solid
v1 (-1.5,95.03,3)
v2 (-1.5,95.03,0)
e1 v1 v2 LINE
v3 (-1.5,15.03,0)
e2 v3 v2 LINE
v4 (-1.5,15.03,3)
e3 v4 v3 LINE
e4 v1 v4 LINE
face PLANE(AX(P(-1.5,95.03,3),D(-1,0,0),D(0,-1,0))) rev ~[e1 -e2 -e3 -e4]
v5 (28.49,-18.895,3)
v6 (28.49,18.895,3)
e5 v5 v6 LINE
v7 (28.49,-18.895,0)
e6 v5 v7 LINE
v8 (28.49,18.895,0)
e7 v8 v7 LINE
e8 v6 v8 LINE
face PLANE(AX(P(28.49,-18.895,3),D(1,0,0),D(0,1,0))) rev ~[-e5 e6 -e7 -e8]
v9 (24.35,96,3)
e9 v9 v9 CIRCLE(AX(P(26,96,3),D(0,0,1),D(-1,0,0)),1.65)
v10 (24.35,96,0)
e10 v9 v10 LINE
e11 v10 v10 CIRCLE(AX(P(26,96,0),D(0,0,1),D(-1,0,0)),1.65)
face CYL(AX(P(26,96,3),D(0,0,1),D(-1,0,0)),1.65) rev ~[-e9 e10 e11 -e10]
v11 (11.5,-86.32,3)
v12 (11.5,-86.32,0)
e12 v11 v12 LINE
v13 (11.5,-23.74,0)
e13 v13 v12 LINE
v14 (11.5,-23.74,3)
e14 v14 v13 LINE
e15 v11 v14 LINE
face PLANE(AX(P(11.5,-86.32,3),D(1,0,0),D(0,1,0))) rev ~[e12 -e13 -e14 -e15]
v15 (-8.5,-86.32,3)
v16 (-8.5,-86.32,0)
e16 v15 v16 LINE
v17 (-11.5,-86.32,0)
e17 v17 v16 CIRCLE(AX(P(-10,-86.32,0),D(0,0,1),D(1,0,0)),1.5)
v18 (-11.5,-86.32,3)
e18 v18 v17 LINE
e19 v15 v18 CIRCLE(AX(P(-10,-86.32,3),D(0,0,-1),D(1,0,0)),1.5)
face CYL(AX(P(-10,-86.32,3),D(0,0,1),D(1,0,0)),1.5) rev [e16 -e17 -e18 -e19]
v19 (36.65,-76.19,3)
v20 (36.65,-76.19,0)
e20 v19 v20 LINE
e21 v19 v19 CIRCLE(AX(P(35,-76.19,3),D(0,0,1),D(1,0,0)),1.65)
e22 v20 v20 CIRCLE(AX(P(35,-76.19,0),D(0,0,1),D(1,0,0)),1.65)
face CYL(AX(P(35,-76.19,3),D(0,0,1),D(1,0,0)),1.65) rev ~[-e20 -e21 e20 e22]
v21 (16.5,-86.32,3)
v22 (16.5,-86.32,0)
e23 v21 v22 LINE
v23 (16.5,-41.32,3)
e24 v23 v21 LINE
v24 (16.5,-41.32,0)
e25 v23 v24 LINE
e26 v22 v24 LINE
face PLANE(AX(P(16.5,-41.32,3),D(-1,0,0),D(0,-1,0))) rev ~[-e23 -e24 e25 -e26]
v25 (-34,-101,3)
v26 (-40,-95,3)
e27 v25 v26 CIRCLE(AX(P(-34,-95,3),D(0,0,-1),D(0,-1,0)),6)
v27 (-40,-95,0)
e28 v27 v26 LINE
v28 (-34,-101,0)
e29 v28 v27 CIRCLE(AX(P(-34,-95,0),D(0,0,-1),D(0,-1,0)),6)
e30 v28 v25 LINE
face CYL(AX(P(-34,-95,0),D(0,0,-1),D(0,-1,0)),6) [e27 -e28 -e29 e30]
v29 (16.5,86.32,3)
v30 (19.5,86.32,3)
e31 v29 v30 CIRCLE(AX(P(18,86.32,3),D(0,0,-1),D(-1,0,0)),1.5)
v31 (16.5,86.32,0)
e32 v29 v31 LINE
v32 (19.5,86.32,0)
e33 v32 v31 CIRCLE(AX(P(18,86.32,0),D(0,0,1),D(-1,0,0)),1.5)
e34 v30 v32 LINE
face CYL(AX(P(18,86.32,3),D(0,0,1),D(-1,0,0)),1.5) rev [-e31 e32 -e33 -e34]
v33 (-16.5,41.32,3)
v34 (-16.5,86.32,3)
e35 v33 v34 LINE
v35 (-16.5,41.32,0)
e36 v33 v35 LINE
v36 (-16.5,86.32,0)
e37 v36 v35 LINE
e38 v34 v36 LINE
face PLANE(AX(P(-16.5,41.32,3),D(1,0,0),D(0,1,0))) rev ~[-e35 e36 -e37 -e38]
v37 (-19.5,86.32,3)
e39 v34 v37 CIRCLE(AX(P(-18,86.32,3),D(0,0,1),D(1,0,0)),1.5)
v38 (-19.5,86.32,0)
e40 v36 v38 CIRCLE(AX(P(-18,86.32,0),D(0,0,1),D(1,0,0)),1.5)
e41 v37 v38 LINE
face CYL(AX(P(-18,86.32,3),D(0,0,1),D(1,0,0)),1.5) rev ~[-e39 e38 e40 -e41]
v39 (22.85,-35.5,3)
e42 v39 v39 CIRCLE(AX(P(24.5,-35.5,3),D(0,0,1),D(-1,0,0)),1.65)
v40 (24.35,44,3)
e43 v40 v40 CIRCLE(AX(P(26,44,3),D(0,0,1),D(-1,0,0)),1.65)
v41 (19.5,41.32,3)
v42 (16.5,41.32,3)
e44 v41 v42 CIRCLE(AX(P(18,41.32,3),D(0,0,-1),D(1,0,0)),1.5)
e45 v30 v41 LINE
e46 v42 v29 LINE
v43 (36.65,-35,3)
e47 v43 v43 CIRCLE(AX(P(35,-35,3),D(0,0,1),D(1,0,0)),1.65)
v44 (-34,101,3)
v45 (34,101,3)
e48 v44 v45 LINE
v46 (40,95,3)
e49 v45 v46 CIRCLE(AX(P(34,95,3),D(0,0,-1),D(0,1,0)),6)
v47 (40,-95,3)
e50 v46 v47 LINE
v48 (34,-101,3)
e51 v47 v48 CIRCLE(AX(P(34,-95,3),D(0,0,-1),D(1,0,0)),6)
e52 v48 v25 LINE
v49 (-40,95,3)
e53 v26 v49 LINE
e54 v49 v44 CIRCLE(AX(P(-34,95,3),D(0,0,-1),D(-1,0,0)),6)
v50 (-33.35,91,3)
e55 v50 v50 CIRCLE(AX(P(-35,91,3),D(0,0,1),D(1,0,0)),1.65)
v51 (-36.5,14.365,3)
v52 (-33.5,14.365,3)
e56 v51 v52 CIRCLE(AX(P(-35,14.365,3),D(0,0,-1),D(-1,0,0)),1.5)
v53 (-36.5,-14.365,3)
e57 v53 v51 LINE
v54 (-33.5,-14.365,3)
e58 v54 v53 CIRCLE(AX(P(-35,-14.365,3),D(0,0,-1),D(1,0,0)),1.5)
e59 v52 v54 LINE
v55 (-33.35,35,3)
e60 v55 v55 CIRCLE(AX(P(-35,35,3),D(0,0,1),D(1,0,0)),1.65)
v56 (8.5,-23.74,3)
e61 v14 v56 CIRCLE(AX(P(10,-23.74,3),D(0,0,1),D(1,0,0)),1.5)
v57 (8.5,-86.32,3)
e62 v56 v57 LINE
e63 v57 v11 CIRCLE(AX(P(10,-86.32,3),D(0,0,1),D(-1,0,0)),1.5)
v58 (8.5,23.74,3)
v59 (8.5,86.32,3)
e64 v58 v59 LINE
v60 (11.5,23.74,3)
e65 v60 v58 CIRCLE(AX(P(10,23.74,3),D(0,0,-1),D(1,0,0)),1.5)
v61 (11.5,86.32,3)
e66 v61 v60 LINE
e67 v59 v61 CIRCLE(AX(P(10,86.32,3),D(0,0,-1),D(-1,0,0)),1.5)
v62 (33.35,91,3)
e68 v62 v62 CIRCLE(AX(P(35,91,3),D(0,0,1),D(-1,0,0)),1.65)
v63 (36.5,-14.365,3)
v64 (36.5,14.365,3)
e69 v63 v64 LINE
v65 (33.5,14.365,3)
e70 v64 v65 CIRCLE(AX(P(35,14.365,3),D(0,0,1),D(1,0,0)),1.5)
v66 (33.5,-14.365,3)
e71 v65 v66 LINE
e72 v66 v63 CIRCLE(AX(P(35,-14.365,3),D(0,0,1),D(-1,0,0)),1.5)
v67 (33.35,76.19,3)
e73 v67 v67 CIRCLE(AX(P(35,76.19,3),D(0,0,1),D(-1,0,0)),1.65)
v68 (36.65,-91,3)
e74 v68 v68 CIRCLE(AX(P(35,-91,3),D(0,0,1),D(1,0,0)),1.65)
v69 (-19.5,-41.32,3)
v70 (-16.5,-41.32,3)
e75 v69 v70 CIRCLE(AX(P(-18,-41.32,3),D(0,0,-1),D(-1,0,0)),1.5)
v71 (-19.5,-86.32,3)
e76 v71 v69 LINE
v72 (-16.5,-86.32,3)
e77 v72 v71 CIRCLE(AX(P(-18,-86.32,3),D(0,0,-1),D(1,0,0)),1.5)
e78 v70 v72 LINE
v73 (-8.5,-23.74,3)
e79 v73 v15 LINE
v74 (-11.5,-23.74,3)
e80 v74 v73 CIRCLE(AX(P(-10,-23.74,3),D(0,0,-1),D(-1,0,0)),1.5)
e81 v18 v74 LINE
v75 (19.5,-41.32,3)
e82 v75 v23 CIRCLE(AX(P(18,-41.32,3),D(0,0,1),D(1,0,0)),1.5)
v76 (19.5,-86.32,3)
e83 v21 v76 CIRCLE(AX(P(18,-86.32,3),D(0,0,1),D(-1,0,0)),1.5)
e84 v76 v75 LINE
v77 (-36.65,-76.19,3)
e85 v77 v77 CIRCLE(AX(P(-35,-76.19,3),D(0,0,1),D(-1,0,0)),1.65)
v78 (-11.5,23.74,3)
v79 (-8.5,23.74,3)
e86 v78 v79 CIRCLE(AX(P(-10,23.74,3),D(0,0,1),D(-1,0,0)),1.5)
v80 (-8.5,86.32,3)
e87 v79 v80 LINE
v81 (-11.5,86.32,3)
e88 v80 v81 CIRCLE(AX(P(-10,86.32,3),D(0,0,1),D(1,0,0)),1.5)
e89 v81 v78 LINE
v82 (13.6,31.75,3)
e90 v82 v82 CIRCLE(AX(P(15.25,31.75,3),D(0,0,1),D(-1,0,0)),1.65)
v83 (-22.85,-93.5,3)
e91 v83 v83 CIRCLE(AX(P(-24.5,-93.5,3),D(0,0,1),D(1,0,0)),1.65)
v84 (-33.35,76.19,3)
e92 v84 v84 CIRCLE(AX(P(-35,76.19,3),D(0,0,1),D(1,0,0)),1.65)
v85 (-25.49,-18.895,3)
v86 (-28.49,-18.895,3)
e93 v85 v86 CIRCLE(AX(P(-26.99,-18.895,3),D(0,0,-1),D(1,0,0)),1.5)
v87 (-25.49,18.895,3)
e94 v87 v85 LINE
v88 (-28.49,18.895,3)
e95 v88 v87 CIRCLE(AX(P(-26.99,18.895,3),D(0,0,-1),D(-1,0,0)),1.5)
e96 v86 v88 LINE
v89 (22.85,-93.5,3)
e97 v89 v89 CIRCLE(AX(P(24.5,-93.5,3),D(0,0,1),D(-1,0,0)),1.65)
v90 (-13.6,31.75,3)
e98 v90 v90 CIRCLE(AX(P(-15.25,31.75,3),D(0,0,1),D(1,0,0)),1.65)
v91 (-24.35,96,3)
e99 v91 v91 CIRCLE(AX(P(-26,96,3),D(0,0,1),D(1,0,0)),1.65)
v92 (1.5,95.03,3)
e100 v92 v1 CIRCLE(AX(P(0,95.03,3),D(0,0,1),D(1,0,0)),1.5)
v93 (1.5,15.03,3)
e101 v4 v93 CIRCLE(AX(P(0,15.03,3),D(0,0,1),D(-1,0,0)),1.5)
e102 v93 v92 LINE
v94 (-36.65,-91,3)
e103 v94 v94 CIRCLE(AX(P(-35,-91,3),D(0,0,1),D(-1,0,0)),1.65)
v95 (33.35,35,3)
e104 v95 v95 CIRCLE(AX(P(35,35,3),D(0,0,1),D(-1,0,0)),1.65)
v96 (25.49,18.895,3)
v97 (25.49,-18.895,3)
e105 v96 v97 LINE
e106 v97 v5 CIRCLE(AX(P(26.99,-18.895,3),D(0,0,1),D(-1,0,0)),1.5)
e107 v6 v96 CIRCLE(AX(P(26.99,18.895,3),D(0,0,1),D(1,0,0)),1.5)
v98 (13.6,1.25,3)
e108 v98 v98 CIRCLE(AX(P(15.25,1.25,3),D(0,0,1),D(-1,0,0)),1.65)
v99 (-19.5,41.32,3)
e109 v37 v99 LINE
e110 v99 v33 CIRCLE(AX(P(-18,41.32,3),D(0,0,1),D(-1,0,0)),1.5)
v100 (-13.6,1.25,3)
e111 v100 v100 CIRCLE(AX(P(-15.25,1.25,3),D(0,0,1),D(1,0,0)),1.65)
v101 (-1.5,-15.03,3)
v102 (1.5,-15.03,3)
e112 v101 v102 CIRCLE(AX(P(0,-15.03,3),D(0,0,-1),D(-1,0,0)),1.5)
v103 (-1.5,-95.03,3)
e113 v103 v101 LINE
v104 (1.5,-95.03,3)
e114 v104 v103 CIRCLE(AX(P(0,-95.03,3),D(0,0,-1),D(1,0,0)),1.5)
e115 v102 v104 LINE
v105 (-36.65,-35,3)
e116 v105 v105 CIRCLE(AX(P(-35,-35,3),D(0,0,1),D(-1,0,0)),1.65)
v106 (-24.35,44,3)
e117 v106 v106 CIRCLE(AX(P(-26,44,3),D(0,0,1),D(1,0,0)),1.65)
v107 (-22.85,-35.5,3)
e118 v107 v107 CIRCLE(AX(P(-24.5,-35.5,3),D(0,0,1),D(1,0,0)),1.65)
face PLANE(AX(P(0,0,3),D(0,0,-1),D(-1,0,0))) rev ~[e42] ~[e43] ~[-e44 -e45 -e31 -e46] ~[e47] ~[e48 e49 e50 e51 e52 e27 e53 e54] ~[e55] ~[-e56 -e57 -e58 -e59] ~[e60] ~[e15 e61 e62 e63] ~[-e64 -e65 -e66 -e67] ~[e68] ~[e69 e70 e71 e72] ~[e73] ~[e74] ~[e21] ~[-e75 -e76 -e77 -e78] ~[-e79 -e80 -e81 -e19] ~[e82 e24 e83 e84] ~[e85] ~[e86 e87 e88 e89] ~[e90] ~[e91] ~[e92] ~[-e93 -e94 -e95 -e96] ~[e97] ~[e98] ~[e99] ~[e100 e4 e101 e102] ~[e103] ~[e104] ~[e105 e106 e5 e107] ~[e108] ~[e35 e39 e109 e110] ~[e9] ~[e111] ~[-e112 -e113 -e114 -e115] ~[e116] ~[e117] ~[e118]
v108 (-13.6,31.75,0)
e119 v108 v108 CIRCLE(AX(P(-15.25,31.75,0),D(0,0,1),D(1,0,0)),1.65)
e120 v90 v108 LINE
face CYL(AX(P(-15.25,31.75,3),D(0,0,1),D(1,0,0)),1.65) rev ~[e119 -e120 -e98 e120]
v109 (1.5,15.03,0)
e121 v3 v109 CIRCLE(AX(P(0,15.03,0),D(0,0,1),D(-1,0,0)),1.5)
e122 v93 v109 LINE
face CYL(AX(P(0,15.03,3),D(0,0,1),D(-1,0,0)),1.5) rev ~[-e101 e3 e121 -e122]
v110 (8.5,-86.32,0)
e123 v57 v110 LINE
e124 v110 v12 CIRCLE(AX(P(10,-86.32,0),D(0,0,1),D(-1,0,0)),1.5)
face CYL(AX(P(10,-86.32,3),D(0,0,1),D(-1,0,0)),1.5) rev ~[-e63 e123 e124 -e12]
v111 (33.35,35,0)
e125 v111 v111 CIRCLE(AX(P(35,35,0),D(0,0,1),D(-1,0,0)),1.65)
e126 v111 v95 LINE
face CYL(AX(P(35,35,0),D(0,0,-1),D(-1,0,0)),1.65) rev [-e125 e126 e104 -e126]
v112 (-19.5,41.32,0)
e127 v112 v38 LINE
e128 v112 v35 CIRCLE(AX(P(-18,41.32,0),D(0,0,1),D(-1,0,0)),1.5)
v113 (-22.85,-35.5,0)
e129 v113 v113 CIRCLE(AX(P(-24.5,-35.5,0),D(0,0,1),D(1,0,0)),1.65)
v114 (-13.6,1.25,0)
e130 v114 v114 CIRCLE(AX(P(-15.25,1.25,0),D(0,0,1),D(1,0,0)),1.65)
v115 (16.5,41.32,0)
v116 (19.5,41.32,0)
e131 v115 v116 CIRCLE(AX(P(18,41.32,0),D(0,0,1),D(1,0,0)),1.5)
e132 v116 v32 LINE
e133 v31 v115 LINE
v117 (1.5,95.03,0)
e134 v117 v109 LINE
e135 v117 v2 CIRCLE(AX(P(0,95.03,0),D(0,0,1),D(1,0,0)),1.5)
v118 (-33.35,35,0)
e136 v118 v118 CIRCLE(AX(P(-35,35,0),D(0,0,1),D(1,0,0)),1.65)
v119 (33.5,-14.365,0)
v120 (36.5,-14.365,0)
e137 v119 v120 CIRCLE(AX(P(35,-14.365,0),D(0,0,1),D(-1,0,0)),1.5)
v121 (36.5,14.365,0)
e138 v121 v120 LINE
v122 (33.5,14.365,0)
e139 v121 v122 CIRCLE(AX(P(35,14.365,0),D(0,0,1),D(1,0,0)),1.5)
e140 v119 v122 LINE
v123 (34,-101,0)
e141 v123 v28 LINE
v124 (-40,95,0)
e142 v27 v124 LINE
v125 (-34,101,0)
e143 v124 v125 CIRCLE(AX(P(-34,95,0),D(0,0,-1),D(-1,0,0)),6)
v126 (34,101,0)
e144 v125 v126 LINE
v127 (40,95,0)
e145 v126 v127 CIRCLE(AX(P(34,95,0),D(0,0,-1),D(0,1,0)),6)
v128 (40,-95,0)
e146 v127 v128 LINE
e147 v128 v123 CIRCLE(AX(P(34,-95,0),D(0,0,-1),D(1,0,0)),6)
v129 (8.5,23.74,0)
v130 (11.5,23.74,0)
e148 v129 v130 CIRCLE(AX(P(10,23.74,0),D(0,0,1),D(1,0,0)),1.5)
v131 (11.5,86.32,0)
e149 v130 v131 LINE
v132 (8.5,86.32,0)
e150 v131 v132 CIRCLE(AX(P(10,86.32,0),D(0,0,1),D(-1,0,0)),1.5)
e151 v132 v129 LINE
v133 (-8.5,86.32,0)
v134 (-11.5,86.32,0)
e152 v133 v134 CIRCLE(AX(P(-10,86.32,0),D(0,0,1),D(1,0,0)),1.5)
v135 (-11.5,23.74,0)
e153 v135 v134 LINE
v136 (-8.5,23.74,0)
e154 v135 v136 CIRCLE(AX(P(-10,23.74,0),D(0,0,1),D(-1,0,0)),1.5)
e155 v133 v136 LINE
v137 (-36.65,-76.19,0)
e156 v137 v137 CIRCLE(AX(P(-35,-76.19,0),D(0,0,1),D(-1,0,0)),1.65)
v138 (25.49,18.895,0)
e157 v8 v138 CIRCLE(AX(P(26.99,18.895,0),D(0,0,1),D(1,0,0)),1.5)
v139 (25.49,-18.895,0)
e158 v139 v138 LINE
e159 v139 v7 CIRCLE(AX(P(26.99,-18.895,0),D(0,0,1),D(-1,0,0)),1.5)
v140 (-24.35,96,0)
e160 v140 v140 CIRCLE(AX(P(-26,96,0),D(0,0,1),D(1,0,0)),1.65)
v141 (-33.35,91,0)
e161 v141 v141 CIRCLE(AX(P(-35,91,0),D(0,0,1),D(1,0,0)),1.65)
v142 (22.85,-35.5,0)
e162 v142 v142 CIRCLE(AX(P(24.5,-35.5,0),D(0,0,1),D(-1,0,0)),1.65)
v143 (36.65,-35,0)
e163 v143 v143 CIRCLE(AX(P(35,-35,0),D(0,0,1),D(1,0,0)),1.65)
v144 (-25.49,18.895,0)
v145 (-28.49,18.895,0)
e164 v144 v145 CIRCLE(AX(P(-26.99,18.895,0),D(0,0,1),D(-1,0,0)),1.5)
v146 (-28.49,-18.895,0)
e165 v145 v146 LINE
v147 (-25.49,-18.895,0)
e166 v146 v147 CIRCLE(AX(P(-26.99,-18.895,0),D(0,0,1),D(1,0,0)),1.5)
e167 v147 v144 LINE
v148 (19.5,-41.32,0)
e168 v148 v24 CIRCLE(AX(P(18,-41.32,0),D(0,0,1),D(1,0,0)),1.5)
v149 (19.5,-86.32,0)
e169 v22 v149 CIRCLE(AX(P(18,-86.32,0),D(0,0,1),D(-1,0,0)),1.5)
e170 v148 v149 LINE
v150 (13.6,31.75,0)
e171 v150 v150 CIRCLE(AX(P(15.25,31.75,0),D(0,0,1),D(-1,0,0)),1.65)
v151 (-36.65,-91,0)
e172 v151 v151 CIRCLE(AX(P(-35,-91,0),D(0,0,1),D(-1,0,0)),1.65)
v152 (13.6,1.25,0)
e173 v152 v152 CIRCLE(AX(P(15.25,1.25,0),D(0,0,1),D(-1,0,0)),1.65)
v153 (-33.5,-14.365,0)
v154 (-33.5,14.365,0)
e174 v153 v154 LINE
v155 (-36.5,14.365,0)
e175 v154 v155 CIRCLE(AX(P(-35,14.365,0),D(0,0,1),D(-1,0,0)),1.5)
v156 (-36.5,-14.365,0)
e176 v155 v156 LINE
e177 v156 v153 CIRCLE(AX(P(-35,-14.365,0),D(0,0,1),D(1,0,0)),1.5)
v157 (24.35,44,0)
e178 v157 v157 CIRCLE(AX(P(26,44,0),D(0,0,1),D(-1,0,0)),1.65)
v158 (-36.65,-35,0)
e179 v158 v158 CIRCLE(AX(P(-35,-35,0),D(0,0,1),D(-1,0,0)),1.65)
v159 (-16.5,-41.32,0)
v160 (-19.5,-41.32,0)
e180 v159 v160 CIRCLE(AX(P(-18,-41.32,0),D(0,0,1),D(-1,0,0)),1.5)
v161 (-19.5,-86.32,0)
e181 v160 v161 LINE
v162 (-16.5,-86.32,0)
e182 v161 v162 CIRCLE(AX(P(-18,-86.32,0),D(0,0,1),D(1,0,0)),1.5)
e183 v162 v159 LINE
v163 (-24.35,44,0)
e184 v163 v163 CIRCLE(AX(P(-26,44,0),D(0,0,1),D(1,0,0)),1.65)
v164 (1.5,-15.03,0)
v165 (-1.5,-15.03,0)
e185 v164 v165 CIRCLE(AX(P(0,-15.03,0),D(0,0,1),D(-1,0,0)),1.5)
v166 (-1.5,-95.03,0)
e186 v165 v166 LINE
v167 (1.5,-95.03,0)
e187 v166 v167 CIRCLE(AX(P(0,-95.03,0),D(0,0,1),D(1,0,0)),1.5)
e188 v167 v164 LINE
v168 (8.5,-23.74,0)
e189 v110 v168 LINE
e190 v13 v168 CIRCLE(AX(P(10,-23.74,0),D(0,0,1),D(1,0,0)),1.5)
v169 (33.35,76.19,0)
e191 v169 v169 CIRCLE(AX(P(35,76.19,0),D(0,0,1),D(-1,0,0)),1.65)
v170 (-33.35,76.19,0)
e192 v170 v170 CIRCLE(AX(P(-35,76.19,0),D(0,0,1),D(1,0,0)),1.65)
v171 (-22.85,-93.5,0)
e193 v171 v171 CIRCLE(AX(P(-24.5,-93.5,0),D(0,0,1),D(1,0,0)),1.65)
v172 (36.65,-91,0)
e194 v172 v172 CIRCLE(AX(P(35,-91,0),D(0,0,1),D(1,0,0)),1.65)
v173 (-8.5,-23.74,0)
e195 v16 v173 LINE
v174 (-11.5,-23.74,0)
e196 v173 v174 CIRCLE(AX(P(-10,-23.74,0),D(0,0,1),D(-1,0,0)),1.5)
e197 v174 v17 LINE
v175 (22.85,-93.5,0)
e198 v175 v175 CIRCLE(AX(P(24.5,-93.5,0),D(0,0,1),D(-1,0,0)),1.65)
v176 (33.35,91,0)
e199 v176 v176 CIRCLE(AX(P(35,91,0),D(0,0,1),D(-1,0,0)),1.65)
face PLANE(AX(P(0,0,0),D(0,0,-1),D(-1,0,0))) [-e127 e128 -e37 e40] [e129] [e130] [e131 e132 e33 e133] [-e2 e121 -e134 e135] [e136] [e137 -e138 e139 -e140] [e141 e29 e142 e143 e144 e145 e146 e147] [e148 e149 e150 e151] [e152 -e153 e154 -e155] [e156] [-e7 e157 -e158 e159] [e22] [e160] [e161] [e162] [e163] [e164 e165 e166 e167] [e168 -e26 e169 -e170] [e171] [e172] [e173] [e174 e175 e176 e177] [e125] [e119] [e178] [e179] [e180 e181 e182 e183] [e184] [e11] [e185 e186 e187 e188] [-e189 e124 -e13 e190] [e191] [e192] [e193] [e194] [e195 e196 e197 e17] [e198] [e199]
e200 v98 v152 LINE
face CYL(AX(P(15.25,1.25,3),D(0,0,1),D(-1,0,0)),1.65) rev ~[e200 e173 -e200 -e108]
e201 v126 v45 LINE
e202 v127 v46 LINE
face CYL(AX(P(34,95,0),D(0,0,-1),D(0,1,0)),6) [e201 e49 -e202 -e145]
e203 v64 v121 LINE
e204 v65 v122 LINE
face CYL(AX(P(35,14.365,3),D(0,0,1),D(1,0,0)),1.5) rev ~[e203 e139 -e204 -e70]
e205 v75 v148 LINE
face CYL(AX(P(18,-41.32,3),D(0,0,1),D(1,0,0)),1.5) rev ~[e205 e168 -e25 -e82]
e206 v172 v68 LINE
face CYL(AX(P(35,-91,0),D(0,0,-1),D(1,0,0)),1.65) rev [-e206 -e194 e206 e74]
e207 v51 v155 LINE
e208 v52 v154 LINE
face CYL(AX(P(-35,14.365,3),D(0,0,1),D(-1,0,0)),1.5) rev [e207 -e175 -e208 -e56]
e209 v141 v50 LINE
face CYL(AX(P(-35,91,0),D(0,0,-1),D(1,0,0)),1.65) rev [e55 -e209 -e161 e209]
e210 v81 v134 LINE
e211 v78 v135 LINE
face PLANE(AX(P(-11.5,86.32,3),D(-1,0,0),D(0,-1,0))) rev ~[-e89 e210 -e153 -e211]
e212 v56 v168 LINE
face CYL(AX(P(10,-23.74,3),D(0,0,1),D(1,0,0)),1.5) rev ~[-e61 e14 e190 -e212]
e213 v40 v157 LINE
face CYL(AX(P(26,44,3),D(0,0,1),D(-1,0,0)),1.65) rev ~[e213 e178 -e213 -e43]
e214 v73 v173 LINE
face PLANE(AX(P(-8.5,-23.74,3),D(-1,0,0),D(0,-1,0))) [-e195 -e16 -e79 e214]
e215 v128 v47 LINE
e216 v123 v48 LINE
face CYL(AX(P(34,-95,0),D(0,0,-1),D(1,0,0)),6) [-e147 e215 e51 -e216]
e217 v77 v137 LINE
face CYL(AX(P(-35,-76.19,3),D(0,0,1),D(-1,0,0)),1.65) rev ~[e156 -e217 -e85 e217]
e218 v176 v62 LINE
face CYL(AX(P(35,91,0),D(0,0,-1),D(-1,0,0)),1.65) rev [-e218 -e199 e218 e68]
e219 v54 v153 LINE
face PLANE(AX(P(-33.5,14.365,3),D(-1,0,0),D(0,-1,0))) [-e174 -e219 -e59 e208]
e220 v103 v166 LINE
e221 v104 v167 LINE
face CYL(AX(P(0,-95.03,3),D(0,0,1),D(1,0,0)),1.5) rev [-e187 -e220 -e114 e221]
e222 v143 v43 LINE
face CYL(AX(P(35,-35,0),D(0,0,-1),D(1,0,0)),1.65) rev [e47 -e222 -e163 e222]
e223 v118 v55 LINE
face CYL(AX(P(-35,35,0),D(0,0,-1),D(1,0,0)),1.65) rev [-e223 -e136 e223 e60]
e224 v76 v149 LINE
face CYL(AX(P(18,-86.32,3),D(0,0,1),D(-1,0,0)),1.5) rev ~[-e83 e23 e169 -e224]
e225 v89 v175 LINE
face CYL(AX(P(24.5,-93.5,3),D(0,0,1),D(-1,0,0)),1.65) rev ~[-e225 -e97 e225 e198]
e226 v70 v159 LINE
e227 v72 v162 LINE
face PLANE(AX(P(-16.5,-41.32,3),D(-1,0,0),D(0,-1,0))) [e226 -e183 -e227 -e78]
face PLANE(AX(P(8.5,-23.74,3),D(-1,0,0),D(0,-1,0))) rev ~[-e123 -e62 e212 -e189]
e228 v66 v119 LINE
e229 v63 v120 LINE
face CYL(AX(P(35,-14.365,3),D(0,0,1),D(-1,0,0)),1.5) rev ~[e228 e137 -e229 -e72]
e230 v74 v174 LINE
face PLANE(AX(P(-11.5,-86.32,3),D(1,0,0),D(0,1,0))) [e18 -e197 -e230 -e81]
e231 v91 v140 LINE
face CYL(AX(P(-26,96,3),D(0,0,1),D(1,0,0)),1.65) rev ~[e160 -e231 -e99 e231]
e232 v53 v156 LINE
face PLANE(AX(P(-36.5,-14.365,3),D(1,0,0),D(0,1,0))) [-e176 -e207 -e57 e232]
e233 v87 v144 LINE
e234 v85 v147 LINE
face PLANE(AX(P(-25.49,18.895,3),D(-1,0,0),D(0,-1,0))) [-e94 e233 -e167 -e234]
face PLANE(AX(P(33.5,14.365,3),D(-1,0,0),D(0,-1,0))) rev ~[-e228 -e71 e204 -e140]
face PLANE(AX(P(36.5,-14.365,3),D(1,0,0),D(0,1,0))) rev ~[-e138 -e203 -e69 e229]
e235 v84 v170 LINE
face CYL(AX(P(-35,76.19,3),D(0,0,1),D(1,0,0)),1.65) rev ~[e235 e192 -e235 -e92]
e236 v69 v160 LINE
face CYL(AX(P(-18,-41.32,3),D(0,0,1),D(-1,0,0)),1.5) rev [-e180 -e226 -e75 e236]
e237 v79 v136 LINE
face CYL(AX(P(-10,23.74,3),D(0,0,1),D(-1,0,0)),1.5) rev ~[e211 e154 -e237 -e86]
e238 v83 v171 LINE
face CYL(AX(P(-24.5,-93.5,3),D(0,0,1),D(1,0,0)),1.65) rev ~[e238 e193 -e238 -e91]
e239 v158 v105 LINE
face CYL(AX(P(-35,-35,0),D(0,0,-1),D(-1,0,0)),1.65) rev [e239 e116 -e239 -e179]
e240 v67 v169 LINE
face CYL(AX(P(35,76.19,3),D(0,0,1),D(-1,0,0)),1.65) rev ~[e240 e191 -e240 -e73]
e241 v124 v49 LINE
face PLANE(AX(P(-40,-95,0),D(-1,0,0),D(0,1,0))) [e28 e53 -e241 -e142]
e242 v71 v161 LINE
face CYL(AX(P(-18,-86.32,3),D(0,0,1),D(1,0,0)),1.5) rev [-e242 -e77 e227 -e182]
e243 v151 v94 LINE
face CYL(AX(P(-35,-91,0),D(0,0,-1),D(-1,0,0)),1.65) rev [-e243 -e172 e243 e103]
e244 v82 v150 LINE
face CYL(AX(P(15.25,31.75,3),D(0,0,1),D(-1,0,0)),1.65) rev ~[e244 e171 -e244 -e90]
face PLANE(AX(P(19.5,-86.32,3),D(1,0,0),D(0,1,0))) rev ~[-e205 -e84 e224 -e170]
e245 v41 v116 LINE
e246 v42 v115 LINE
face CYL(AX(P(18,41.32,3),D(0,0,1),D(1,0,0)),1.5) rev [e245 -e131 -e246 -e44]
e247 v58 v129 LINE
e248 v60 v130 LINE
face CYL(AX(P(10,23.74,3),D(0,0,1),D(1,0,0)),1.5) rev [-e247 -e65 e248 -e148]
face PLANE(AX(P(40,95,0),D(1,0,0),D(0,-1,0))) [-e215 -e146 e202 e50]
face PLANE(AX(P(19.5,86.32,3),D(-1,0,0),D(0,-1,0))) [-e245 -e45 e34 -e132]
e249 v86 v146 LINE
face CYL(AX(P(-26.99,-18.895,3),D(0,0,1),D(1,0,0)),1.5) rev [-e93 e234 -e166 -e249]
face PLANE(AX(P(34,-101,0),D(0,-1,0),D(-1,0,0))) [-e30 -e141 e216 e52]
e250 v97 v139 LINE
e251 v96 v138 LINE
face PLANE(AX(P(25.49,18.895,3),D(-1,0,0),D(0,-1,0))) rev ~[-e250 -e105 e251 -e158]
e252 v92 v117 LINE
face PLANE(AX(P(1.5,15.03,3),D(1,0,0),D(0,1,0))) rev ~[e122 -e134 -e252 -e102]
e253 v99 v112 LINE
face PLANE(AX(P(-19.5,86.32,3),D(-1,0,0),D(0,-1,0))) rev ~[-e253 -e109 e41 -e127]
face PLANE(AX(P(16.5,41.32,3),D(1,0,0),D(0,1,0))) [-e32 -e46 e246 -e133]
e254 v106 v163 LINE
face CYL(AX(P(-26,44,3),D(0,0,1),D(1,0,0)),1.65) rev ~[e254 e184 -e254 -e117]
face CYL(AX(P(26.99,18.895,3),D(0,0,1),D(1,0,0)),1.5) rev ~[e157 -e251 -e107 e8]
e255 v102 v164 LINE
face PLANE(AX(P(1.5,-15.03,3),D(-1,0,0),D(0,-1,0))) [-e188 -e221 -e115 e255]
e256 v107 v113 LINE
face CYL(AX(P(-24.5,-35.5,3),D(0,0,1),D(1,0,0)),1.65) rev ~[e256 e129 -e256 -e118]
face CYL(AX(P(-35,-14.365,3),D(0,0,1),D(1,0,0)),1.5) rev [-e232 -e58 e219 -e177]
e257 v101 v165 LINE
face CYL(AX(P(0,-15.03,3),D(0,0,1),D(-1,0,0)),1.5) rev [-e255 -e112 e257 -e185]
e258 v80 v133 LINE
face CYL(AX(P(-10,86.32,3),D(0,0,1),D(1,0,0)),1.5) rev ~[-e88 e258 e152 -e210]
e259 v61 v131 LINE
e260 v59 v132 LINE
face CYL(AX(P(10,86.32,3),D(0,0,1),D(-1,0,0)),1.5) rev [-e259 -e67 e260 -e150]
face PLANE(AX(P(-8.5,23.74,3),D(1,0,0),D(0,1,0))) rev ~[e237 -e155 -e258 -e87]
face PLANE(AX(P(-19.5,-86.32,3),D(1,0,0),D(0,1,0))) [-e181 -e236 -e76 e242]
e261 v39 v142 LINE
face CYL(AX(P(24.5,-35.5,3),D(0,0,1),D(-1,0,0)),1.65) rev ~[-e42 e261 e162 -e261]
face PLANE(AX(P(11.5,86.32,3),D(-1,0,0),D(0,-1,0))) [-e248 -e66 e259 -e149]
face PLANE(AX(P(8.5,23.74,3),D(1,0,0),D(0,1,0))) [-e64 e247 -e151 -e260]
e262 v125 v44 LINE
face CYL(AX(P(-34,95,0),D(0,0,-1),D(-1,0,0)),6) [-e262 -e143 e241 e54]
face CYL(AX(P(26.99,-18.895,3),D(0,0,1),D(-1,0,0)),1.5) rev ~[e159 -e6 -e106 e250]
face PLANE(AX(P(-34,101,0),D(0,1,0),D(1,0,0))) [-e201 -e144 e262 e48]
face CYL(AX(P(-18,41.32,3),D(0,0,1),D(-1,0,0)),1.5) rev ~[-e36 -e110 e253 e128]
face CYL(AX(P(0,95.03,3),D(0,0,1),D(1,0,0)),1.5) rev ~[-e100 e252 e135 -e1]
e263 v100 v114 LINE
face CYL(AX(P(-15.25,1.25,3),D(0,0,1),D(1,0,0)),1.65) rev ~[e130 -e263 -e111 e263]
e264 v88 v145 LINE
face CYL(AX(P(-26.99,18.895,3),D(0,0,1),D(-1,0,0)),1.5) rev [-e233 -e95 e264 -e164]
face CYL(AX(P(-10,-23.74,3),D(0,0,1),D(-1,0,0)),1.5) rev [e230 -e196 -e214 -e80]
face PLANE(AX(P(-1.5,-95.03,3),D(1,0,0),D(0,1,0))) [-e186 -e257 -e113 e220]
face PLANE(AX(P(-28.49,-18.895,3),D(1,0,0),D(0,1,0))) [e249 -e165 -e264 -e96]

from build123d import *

# Parameters (mm, degrees)
SKETCH_1_R          = 1.65
EXTRUDE_1_DEPTH     = 3
SKETCH_3_R          = 1.65
CUT_EXTRUDE_2_DEPTH = 109.673823895
SKETCH_4_R          = 1.65
CUT_EXTRUDE_3_DEPTH = 109.673823895
CUT_EXTRUDE_4_DEPTH = 109.673823895


with BuildPart() as part:
    # Эскиз1 → Бобышка-Вытянуть1 (new body)
    with BuildSketch(Plane.XY):
        with BuildLine():
            Line((-34, 101), (34, 101))
            ThreePointArc((34, 101), (38.242640687, 99.242640687), (40, 95))
            Line((40, 95), (40, -95))
            ThreePointArc((40, -95), (38.242640687, -99.242640687), (34, -101))
            Line((34, -101), (-34, -101))
            ThreePointArc((-34, -101), (-38.242640687, -99.242640687), (-40, -95))
            Line((-40, -95), (-40, 95))
            ThreePointArc((-40, 95), (-38.242640687, 99.242640687), (-34, 101))
        make_face()
        with Locations((-35, 91)):
            Circle(SKETCH_1_R, mode=Mode.SUBTRACT)
        with Locations((-35, 35)):
            Circle(SKETCH_1_R, mode=Mode.SUBTRACT)
        with Locations(Location((35, 35, 0), (0, 0, 180))):
            Circle(SKETCH_1_R, mode=Mode.SUBTRACT)
        with Locations(Location((35, 91, 0), (0, 0, 180))):
            Circle(SKETCH_1_R, mode=Mode.SUBTRACT)
        with Locations((35, -91)):
            Circle(SKETCH_1_R, mode=Mode.SUBTRACT)
        with Locations(Location((-35, -91, 0), (0, 0, 180))):
            Circle(SKETCH_1_R, mode=Mode.SUBTRACT)
        with Locations(Location((-35, -35, 0), (0, 0, 180))):
            Circle(SKETCH_1_R, mode=Mode.SUBTRACT)
        with Locations((35, -35)):
            Circle(SKETCH_1_R, mode=Mode.SUBTRACT)
    extrude(amount=EXTRUDE_1_DEPTH)

    # Эскиз3 → Вырез-Вытянуть2 (cut, through all)
    with BuildSketch(Plane.XY.offset(3)):
        with Locations((-24.5, -93.5)):
            Circle(SKETCH_3_R)
        with Locations((-24.5, -35.5)):
            Circle(SKETCH_3_R)
        with Locations((-15.25, 1.25)):
            Circle(SKETCH_3_R)
        with Locations((-15.25, 31.75)):
            Circle(SKETCH_3_R)
        with Locations((-26, 44)):
            Circle(SKETCH_3_R)
        with Locations((-26, 96)):
            Circle(SKETCH_3_R)
        with Locations(Location((24.5, -93.5, 0), (0, 0, 180))):
            Circle(SKETCH_3_R)
        with Locations(Location((24.5, -35.5, 0), (0, 0, 180))):
            Circle(SKETCH_3_R)
        with Locations(Location((15.25, 1.25, 0), (0, 0, 180))):
            Circle(SKETCH_3_R)
        with Locations(Location((15.25, 31.75, 0), (0, 0, 180))):
            Circle(SKETCH_3_R)
        with Locations(Location((26, 44, 0), (0, 0, 180))):
            Circle(SKETCH_3_R)
        with Locations(Location((26, 96, 0), (0, 0, 180))):
            Circle(SKETCH_3_R)
    extrude(amount=-CUT_EXTRUDE_2_DEPTH, mode=Mode.SUBTRACT)

    # Эскиз4 → Вырез-Вытянуть3 (cut, through all)
    with BuildSketch(Plane.XY.offset(3)):
        with Locations((-35, 76.19)):
            Circle(SKETCH_4_R)
        with Locations(Location((35, 76.19, 0), (0, 0, 180))):
            Circle(SKETCH_4_R)
        with Locations((35, -76.19)):
            Circle(SKETCH_4_R)
        with Locations(Location((-35, -76.19, 0), (0, 0, 180))):
            Circle(SKETCH_4_R)
    extrude(amount=-CUT_EXTRUDE_3_DEPTH, mode=Mode.SUBTRACT)

    # Эскиз5 → Вырез-Вытянуть4 (cut, through all)
    with BuildSketch(Plane.XY.offset(3)):
        with BuildLine():
            Line((-33.5, 14.365), (-33.5, -14.365))
            ThreePointArc((-33.5, -14.365), (-35, -15.865), (-36.5, -14.365))
            Line((-36.5, -14.365), (-36.5, 14.365))
            ThreePointArc((-36.5, 14.365), (-35, 15.865), (-33.5, 14.365))
        make_face()
        with BuildLine():
            Line((-25.49, 18.895), (-25.49, -18.895))
            ThreePointArc((-25.49, -18.895), (-26.99, -20.395), (-28.49, -18.895))
            Line((-28.49, -18.895), (-28.49, 18.895))
            ThreePointArc((-28.49, 18.895), (-26.99, 20.395), (-25.49, 18.895))
        make_face()
        with BuildLine():
            Line((-16.5, -41.32), (-16.5, -86.32))
            ThreePointArc((-16.5, -86.32), (-18, -87.82), (-19.5, -86.32))
            Line((-19.5, -86.32), (-19.5, -41.32))
            ThreePointArc((-19.5, -41.32), (-18, -39.82), (-16.5, -41.32))
        make_face()
        with BuildLine():
            Line((-8.5, -23.74), (-8.5, -86.32))
            ThreePointArc((-8.5, -86.32), (-10, -87.82), (-11.5, -86.32))
            Line((-11.5, -86.32), (-11.5, -23.74))
            ThreePointArc((-11.5, -23.74), (-10, -22.24), (-8.5, -23.74))
        make_face()
        with BuildLine():
            Line((1.5, -15.03), (1.5, -95.03))
            ThreePointArc((1.5, -95.03), (0, -96.53), (-1.5, -95.03))
            Line((-1.5, -95.03), (-1.5, -15.03))
            ThreePointArc((-1.5, -15.03), (0, -13.53), (1.5, -15.03))
        make_face()
        with BuildLine():
            Line((8.5, -23.74), (8.5, -86.32))
            ThreePointArc((8.5, -86.32), (10, -87.82), (11.5, -86.32))
            Line((11.5, -86.32), (11.5, -23.74))
            ThreePointArc((11.5, -23.74), (10, -22.24), (8.5, -23.74))
        make_face()
        with BuildLine():
            Line((16.5, -41.32), (16.5, -86.32))
            ThreePointArc((16.5, -86.32), (18, -87.82), (19.5, -86.32))
            Line((19.5, -86.32), (19.5, -41.32))
            ThreePointArc((19.5, -41.32), (18, -39.82), (16.5, -41.32))
        make_face()
        with BuildLine():
            Line((25.49, 18.895), (25.49, -18.895))
            ThreePointArc((25.49, -18.895), (26.99, -20.395), (28.49, -18.895))
            Line((28.49, -18.895), (28.49, 18.895))
            ThreePointArc((28.49, 18.895), (26.99, 20.395), (25.49, 18.895))
        make_face()
        with BuildLine():
            Line((33.5, 14.365), (33.5, -14.365))
            ThreePointArc((33.5, -14.365), (35, -15.865), (36.5, -14.365))
            Line((36.5, -14.365), (36.5, 14.365))
            ThreePointArc((36.5, 14.365), (35, 15.865), (33.5, 14.365))
        make_face()
        with BuildLine():
            Line((-16.5, 41.32), (-16.5, 86.32))
            ThreePointArc((-16.5, 86.32), (-18, 87.82), (-19.5, 86.32))
            Line((-19.5, 86.32), (-19.5, 41.32))
            ThreePointArc((-19.5, 41.32), (-18, 39.82), (-16.5, 41.32))
        make_face()
        with BuildLine():
            Line((-8.5, 23.74), (-8.5, 86.32))
            ThreePointArc((-8.5, 86.32), (-10, 87.82), (-11.5, 86.32))
            Line((-11.5, 86.32), (-11.5, 23.74))
            ThreePointArc((-11.5, 23.74), (-10, 22.24), (-8.5, 23.74))
        make_face()
        with BuildLine():
            Line((8.5, 23.74), (8.5, 86.32))
            ThreePointArc((8.5, 86.32), (10, 87.82), (11.5, 86.32))
            Line((11.5, 86.32), (11.5, 23.74))
            ThreePointArc((11.5, 23.74), (10, 22.24), (8.5, 23.74))
        make_face()
        with BuildLine():
            Line((16.5, 41.32), (16.5, 86.32))
            ThreePointArc((16.5, 86.32), (18, 87.82), (19.5, 86.32))
            Line((19.5, 86.32), (19.5, 41.32))
            ThreePointArc((19.5, 41.32), (18, 39.82), (16.5, 41.32))
        make_face()
        with BuildLine():
            Line((1.5, 15.03), (1.5, 95.03))
            ThreePointArc((1.5, 95.03), (0, 96.53), (-1.5, 95.03))
            Line((-1.5, 95.03), (-1.5, 15.03))
            ThreePointArc((-1.5, 15.03), (0, 13.53), (1.5, 15.03))
        make_face()
    extrude(amount=-CUT_EXTRUDE_4_DEPTH, mode=Mode.SUBTRACT)


solid = part.part
